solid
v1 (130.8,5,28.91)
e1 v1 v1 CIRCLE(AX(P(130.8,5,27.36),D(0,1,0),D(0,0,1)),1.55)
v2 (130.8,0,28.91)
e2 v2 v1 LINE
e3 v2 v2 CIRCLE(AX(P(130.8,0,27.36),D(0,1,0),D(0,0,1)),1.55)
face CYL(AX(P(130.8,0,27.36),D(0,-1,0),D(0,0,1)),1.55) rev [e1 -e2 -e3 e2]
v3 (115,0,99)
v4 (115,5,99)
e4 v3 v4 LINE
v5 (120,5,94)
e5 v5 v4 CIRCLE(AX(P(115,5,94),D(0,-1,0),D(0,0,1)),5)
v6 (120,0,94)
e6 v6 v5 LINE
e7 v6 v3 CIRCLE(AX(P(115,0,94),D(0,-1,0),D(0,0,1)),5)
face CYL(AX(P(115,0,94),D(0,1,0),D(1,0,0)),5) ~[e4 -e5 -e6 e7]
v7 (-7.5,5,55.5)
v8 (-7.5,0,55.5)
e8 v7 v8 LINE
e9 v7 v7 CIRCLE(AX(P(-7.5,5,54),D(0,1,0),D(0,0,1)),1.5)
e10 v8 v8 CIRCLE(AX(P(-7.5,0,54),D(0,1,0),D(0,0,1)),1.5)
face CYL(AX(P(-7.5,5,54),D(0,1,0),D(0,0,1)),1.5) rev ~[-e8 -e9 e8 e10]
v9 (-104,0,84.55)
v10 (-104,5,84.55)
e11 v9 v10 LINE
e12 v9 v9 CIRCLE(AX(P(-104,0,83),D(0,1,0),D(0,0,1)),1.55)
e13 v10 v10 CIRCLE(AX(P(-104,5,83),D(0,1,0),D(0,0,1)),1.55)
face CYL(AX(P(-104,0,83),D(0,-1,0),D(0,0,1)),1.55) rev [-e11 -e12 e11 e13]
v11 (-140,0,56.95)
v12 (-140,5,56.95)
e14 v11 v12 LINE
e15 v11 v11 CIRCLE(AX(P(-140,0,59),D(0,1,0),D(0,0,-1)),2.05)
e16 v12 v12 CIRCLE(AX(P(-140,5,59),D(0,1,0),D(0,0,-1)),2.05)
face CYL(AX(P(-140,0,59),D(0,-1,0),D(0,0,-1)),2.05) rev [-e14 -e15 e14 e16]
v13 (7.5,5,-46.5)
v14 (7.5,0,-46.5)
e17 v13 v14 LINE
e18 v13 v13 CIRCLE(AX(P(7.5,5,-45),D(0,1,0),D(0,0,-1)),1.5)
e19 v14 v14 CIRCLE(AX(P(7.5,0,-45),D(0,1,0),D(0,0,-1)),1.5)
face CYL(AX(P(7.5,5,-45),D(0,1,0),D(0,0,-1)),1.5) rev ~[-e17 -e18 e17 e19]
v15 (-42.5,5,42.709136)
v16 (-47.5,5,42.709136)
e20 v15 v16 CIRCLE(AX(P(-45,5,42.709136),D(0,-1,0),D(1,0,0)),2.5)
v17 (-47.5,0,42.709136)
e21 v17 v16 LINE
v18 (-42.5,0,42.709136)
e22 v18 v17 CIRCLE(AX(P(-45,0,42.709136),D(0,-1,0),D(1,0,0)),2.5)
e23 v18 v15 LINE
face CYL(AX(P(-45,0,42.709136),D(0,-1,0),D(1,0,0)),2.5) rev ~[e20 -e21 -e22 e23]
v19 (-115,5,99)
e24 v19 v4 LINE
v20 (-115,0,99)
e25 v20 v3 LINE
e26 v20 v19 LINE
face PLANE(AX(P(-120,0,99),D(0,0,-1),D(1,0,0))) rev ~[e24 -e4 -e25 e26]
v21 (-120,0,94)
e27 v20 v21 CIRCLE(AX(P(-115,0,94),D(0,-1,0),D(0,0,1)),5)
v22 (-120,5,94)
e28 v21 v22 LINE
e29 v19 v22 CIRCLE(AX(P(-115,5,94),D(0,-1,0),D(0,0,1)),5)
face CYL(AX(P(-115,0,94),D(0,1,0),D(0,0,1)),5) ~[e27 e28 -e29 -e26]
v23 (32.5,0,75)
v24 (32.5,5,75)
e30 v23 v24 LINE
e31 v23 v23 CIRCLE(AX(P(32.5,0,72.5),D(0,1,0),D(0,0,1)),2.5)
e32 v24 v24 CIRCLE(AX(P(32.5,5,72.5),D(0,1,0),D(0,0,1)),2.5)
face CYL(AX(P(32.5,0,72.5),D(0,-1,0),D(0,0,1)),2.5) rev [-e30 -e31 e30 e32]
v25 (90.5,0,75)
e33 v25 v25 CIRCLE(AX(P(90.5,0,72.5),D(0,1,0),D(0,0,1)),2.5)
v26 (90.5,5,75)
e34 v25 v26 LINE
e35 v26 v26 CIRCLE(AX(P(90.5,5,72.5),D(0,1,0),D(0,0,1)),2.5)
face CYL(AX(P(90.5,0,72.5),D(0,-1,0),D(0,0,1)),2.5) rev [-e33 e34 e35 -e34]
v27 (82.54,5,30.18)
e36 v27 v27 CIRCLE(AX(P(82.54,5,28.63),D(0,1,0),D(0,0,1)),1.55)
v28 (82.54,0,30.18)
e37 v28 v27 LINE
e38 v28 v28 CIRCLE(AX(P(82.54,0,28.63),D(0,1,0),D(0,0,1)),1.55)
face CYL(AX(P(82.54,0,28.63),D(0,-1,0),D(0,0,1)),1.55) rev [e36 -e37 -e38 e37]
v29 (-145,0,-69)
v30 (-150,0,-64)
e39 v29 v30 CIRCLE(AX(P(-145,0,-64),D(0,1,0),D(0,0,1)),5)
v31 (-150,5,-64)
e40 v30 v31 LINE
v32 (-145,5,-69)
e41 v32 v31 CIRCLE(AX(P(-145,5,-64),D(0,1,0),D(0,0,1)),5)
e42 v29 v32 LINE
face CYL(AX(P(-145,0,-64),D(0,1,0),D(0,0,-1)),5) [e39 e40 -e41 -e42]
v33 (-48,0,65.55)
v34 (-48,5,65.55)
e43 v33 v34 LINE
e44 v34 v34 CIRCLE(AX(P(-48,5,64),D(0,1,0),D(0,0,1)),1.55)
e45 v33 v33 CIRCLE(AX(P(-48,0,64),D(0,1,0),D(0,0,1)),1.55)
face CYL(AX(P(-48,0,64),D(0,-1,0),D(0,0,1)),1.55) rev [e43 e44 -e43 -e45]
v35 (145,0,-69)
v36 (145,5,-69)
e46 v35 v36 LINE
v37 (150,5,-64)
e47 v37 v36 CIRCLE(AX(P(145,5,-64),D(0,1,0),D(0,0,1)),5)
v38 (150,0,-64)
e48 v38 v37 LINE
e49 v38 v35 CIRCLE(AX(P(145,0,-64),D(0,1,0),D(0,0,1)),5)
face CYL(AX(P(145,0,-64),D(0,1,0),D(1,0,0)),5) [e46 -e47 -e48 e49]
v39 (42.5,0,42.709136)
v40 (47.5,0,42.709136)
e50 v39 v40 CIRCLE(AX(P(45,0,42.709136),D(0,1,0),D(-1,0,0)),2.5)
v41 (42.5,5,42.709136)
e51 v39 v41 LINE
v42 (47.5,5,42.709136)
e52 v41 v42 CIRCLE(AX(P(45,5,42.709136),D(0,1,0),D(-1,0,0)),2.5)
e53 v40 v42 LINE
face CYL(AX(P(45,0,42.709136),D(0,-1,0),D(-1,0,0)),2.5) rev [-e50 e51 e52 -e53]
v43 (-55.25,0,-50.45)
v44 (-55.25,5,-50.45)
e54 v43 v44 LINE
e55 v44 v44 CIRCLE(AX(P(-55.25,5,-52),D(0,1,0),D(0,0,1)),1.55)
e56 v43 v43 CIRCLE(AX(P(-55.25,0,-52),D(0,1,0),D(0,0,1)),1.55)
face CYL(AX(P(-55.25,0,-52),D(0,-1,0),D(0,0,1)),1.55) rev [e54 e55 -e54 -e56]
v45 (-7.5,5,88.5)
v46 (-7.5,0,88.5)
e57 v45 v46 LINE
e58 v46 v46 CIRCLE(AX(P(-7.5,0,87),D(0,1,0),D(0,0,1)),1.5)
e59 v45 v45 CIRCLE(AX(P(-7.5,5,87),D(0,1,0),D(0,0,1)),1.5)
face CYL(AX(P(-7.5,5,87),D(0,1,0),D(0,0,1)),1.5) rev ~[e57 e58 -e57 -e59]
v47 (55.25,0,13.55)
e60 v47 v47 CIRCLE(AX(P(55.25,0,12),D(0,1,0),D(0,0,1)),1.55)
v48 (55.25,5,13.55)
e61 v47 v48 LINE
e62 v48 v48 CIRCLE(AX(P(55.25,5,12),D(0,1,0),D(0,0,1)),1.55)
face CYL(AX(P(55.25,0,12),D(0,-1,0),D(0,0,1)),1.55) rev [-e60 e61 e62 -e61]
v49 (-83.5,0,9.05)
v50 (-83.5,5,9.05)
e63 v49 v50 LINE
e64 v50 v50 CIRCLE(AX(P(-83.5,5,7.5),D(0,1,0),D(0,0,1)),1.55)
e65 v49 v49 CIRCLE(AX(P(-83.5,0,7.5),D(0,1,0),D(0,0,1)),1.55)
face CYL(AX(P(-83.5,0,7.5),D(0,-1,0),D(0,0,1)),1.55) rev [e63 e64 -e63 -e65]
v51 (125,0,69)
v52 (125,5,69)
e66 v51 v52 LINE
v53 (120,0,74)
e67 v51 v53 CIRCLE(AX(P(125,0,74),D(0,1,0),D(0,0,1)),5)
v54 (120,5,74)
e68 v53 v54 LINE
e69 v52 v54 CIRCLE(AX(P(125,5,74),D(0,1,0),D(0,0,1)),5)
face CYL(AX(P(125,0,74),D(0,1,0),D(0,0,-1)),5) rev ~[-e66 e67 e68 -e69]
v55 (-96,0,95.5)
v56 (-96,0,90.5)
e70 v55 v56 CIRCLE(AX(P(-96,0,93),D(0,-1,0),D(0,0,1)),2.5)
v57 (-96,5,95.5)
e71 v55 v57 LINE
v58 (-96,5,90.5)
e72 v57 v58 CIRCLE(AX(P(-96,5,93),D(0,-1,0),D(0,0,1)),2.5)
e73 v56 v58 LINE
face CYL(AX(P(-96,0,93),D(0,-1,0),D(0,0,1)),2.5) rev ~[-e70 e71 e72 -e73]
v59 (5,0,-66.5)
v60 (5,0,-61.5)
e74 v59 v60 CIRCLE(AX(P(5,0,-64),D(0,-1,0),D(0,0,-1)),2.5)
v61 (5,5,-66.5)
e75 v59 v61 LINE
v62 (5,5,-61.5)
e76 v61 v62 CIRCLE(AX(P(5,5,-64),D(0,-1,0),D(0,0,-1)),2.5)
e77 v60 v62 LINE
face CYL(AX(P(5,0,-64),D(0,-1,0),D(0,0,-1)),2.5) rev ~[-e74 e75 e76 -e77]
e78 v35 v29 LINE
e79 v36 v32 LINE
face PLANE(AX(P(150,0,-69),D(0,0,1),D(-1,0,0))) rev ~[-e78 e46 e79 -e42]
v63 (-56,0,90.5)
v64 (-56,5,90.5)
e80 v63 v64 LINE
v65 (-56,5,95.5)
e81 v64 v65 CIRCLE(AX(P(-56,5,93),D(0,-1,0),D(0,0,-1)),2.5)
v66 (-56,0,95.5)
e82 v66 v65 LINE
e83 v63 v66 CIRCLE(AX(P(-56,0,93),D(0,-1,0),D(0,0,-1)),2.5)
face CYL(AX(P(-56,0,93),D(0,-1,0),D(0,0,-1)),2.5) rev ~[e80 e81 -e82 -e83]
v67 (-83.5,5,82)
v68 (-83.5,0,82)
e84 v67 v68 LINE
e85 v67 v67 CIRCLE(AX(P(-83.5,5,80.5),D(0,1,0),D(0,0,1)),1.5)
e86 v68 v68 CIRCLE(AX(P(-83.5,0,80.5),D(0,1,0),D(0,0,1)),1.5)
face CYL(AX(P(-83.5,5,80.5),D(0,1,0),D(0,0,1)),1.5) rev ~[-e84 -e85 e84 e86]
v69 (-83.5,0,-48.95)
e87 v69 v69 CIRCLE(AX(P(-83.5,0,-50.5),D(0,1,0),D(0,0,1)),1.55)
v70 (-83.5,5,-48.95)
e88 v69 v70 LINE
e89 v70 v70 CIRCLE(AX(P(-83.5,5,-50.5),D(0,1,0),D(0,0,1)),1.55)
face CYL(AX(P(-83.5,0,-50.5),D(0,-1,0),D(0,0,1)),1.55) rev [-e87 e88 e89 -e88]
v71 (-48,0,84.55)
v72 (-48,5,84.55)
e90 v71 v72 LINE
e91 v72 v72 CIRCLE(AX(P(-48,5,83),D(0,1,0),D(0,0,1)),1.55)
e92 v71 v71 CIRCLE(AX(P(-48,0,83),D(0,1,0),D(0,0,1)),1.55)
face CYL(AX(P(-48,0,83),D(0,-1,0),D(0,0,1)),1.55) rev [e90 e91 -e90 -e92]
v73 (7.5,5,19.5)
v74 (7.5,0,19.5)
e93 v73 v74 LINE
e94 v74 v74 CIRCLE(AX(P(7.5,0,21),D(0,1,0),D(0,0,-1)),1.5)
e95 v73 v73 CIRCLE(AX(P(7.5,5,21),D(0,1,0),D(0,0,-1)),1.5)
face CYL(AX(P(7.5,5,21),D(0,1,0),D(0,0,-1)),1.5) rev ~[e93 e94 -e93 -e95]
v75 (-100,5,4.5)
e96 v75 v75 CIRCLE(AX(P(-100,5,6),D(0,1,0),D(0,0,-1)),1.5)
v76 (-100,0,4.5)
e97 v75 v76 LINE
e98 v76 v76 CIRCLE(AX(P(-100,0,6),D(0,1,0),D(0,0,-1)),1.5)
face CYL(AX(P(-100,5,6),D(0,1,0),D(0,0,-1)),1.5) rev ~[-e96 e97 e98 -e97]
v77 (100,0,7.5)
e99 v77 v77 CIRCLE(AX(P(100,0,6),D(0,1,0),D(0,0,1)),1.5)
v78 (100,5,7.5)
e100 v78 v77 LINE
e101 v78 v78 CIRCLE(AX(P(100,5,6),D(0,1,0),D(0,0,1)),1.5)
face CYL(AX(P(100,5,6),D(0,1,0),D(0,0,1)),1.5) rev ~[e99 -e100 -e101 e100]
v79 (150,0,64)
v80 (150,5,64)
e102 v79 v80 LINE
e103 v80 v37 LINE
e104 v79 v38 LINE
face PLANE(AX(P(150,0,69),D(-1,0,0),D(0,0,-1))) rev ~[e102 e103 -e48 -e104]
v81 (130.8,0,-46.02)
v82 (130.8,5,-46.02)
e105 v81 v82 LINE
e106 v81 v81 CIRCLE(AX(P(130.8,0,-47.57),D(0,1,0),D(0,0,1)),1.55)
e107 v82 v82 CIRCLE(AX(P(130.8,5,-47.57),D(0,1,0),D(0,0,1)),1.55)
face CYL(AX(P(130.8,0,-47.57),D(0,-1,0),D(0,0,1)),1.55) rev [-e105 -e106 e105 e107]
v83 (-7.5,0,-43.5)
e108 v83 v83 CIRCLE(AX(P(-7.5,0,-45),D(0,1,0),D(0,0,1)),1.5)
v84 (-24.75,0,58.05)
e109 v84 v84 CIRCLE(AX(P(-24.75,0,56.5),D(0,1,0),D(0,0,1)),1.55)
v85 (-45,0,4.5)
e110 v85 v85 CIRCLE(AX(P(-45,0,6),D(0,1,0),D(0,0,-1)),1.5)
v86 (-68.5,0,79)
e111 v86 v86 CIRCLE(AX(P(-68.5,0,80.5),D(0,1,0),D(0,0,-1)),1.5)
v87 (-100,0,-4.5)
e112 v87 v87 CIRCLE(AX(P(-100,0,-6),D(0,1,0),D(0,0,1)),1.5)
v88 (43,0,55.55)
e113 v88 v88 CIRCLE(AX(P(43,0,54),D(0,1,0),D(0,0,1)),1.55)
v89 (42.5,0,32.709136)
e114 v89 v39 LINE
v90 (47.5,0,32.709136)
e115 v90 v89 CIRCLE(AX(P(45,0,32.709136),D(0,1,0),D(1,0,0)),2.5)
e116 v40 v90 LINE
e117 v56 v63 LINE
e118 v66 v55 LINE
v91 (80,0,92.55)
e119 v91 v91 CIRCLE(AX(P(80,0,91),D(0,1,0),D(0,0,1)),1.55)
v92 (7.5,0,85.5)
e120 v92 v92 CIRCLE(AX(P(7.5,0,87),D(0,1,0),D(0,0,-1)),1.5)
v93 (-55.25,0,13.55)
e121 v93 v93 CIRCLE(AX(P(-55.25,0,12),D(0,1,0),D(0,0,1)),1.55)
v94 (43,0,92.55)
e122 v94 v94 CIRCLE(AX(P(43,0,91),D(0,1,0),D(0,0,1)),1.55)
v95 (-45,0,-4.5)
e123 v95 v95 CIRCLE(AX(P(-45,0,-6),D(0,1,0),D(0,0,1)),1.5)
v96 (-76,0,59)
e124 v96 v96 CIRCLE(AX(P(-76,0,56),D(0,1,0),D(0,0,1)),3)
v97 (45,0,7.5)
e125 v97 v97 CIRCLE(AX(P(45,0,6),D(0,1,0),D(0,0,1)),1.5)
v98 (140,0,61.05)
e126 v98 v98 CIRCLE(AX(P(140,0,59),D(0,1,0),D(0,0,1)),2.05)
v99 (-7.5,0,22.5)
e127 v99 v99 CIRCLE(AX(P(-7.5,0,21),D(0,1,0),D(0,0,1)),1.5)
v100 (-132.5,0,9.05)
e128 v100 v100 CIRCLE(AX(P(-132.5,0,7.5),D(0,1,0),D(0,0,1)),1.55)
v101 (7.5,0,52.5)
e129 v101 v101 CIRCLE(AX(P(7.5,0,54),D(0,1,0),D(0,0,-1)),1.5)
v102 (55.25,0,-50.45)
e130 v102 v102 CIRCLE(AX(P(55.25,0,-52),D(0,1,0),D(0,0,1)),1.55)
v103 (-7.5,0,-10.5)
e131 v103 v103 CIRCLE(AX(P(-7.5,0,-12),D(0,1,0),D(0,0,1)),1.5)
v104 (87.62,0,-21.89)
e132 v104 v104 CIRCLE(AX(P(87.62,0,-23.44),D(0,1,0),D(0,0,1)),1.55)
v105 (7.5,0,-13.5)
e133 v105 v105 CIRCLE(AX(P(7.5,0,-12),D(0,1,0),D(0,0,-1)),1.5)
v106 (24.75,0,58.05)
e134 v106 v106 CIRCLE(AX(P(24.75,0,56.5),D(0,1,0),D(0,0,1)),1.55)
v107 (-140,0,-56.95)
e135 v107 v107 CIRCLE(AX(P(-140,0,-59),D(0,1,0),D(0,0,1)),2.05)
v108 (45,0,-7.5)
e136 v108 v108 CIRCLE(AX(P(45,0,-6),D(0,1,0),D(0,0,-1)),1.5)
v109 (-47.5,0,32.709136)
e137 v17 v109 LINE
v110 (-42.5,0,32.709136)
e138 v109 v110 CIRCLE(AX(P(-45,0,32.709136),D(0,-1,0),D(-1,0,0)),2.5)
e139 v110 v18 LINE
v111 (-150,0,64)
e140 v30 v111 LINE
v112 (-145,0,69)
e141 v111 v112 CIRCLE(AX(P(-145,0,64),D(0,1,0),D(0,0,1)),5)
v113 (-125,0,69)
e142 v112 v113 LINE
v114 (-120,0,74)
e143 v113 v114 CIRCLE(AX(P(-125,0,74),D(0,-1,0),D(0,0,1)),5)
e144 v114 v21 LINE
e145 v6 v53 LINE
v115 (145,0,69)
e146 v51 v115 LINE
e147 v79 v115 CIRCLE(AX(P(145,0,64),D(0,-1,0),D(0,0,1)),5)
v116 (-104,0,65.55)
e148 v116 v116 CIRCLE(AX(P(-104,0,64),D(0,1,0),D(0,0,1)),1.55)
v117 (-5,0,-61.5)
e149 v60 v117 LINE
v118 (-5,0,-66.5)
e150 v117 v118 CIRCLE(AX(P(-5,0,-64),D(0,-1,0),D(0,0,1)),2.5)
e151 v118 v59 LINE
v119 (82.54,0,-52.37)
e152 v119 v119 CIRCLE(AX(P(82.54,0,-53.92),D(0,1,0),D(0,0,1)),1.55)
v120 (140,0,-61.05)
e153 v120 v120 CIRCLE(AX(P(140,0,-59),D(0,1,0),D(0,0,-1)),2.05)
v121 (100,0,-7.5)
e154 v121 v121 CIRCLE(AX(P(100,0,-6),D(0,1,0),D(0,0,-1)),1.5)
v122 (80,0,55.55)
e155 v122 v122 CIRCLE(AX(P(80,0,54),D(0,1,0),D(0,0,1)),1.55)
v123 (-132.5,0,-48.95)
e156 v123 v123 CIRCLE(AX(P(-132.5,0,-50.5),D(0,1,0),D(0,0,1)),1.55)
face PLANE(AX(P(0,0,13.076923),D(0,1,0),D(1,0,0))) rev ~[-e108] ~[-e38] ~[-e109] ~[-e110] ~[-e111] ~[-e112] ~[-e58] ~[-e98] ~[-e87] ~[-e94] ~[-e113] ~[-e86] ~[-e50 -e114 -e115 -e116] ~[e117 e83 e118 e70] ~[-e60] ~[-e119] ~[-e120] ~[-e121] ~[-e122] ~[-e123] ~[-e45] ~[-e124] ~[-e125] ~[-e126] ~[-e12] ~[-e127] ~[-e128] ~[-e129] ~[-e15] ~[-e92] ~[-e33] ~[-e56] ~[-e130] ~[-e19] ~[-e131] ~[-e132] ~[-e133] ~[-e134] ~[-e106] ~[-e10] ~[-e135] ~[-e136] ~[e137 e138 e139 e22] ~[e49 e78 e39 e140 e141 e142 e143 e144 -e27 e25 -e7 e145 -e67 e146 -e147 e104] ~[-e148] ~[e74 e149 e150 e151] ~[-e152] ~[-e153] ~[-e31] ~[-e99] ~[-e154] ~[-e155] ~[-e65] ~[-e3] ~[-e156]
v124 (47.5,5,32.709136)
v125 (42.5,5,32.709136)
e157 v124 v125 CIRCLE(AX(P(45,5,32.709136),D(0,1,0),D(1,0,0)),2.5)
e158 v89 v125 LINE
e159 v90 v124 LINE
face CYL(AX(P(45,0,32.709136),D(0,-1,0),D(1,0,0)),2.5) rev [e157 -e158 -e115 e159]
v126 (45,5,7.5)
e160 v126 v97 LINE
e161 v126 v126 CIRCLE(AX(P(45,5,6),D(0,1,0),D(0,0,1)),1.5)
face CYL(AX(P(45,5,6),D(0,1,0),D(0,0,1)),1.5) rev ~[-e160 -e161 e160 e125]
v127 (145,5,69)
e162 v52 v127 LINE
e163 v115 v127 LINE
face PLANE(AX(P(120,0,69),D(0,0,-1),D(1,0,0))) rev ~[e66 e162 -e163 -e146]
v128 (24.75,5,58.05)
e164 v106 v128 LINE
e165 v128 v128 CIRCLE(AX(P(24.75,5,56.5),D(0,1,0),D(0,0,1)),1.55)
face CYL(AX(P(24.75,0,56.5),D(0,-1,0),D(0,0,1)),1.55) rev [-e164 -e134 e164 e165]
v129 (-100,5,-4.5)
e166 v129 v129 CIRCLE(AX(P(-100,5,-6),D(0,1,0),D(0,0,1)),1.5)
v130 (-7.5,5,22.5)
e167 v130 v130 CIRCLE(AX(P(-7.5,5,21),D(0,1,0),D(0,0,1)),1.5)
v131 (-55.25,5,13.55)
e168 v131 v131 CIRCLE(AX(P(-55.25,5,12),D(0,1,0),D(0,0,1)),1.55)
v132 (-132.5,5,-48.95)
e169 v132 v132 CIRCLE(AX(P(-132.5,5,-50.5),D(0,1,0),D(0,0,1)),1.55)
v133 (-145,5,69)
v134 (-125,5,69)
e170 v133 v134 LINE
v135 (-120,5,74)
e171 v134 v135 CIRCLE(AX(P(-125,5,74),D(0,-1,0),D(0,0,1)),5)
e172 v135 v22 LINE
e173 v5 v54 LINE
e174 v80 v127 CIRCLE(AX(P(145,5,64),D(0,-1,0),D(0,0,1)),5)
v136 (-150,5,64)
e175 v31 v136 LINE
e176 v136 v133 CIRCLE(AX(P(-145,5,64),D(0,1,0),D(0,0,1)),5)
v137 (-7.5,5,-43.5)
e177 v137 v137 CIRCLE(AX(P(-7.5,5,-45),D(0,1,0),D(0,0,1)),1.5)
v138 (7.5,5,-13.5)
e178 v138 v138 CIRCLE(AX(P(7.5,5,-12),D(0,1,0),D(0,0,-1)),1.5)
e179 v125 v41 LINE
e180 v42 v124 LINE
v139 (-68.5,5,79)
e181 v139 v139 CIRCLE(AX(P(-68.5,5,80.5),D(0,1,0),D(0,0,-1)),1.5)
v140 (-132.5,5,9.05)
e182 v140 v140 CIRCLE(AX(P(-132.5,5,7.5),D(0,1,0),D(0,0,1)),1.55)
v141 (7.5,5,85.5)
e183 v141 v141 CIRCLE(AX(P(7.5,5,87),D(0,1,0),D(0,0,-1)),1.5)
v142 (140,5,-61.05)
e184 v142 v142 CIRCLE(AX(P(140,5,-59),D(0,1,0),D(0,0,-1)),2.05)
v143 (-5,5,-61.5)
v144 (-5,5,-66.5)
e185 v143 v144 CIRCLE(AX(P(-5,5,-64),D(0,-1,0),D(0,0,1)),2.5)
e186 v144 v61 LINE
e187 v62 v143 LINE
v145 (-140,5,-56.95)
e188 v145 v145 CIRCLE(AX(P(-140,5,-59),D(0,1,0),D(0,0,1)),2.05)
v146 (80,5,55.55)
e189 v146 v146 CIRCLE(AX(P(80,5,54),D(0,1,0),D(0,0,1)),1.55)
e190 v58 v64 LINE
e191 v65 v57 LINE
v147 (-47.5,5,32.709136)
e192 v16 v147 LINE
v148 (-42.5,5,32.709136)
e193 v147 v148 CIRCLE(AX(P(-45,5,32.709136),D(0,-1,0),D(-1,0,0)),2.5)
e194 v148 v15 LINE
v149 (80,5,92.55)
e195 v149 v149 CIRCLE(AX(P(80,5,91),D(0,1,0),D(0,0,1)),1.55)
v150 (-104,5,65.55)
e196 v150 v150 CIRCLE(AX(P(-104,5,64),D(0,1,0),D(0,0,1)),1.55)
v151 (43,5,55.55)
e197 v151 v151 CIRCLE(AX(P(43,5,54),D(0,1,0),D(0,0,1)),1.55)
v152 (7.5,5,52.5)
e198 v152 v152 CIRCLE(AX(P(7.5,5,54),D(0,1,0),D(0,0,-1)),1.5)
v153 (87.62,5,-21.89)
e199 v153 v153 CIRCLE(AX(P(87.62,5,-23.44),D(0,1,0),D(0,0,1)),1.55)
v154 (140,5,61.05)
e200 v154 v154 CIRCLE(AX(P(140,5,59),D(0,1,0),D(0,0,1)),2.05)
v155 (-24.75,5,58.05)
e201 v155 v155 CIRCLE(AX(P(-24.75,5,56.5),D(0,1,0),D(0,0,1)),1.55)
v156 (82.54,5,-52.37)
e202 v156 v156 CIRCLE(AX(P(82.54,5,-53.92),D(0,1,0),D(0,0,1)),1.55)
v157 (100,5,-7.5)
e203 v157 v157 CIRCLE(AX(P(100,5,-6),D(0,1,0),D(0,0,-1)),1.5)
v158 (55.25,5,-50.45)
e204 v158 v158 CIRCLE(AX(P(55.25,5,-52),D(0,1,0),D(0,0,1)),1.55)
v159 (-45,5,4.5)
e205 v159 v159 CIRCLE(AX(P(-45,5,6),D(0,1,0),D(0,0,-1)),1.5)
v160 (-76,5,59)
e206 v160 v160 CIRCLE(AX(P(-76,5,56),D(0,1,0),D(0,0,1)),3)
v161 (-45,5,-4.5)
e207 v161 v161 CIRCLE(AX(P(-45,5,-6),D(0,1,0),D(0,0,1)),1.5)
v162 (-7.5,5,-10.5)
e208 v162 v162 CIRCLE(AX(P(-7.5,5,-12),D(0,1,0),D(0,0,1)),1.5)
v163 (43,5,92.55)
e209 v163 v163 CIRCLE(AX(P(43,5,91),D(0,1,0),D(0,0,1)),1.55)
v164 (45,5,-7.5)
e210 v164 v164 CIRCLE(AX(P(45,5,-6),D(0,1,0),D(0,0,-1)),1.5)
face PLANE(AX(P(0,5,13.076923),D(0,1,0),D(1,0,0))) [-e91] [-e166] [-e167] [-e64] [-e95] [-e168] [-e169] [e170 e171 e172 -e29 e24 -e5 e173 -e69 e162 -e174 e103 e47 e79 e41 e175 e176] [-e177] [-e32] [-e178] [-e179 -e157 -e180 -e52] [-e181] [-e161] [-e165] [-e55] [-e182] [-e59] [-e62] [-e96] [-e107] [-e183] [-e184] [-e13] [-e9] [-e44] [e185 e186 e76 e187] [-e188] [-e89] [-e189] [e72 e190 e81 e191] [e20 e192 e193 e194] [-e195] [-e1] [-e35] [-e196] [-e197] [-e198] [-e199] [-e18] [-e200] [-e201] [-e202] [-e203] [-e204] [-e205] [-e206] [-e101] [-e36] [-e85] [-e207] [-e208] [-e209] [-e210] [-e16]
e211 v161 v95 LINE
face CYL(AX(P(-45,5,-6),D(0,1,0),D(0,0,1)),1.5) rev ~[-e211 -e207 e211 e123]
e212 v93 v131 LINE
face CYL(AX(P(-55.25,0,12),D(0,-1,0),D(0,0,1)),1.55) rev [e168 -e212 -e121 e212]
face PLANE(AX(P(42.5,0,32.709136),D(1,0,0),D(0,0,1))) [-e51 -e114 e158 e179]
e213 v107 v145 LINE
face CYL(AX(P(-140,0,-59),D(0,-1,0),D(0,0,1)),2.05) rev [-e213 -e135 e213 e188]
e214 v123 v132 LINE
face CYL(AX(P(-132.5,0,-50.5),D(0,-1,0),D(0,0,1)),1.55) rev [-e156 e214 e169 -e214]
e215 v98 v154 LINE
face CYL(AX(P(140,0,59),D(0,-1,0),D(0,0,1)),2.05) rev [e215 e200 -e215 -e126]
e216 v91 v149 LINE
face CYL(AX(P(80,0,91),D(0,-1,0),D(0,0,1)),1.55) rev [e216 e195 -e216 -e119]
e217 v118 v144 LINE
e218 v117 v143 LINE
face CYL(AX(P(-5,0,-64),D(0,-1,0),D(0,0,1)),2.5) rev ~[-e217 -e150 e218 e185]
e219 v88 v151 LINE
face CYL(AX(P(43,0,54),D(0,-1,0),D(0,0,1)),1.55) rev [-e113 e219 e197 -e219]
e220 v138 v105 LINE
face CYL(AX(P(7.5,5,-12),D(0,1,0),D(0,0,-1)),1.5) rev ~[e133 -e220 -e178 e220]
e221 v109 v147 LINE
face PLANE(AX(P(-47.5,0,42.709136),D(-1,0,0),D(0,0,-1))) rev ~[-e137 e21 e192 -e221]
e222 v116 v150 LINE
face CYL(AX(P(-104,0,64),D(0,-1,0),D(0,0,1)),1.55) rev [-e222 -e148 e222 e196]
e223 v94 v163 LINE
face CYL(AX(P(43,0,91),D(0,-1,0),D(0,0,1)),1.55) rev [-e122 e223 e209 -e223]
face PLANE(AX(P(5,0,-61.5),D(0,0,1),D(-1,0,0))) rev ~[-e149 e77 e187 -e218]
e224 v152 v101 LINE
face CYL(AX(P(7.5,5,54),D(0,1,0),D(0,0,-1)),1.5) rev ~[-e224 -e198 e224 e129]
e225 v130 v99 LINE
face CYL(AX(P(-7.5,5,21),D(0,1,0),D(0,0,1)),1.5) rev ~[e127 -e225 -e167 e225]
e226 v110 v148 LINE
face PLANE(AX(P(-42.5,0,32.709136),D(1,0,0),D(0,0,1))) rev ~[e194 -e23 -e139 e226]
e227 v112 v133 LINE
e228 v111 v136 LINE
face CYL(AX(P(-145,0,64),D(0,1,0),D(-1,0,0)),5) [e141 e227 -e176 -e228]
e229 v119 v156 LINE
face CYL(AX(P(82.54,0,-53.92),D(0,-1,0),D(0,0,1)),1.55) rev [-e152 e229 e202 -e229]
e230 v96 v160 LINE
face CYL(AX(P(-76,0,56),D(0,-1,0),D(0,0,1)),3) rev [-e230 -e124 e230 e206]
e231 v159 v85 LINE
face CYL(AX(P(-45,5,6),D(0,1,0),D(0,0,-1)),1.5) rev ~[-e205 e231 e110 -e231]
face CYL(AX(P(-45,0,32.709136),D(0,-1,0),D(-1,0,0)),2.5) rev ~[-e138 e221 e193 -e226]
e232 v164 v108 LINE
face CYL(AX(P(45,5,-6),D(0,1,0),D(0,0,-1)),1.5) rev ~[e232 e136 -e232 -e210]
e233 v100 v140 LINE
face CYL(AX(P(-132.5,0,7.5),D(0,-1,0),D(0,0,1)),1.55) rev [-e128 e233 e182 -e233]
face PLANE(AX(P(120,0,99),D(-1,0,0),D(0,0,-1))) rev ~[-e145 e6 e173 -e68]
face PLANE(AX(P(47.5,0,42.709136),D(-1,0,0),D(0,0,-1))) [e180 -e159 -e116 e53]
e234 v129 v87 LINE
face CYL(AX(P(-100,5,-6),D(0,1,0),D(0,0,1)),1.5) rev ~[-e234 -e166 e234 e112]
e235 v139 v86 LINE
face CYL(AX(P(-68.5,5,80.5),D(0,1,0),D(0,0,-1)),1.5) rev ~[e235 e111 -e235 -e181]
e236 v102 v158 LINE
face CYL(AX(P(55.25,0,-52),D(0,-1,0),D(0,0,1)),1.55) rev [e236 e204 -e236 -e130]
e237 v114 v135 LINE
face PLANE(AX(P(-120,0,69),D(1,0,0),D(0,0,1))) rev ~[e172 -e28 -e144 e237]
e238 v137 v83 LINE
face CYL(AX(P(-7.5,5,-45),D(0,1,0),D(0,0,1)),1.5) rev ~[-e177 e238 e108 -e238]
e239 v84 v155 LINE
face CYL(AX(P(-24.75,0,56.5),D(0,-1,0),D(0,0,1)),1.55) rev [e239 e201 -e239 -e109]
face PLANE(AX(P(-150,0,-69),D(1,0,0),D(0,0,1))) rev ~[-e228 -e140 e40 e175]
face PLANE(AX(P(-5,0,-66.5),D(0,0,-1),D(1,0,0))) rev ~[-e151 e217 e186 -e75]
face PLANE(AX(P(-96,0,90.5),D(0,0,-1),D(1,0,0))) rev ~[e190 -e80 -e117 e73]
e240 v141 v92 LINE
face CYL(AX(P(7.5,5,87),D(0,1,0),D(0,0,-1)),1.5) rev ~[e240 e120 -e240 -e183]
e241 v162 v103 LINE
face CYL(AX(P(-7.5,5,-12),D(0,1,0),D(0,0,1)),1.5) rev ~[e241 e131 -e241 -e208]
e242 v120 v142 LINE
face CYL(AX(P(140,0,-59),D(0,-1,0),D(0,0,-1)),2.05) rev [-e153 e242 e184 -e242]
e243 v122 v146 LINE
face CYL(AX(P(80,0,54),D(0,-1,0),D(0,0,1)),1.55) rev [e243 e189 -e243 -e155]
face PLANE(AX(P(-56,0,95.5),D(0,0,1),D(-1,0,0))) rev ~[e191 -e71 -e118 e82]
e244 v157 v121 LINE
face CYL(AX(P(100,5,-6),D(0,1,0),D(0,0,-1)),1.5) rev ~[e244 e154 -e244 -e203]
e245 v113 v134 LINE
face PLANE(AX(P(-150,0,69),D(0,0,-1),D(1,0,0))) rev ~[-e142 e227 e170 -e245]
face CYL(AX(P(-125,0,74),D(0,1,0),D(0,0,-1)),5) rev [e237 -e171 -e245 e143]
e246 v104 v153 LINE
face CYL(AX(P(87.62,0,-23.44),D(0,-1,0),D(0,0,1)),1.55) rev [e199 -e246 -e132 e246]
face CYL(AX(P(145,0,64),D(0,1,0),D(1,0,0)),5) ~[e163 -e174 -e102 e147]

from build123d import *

# Parameters (mm, degrees)
ESQUISSE1_R             = 2.05
ESQUISSE1_R_2           = 1.55
ESQUISSE1_R_3           = 2.5
ESQUISSE1_R_4           = 3
BOSS_EXTRU_1_DEPTH      = 5
CONG_2_R                = 5
ESQUISSE2_R             = 1.5
ENL_V_MAT_EXTRU_1_DEPTH = 10


with BuildPart() as part:
    # Esquisse1 → Boss.-Extru.1 (new body)
    with BuildSketch(Plane(origin=(0, 0, 0), x_dir=(1, 0, 0), z_dir=(0, 1, 0))):
        Polygon((150, -69), (150, 69), (-149.848840409, 69), (-150, 69), (-150, -69), (-120, -69), (-120, -99), (120, -99), (120, -69), align=None)
        with Locations(Location((-140, 59, 0), (0, 0, 270))):
            Circle(ESQUISSE1_R, mode=Mode.SUBTRACT)
        with Locations(Location((140, 59, 0), (0, 0, 90))):
            Circle(ESQUISSE1_R, mode=Mode.SUBTRACT)
        with Locations(Location((140, -59, 0), (0, 0, 270))):
            Circle(ESQUISSE1_R, mode=Mode.SUBTRACT)
        with Locations(Location((-140, -59, 0), (0, 0, 90))):
            Circle(ESQUISSE1_R, mode=Mode.SUBTRACT)
        with Locations(Location((-48, -83, 0), (0, 0, 270))):
            Circle(ESQUISSE1_R_2, mode=Mode.SUBTRACT)
        with Locations(Location((-104, -83, 0), (0, 0, 270))):
            Circle(ESQUISSE1_R_2, mode=Mode.SUBTRACT)
        with Locations(Location((-48, -64, 0), (0, 0, 270))):
            Circle(ESQUISSE1_R_2, mode=Mode.SUBTRACT)
        with Locations(Location((-104, -64, 0), (0, 0, 270))):
            Circle(ESQUISSE1_R_2, mode=Mode.SUBTRACT)
        with Locations(Location((82.54, -28.63, 0), (0, 0, 270))):
            Circle(ESQUISSE1_R_2, mode=Mode.SUBTRACT)
        with Locations(Location((130.8, -27.36, 0), (0, 0, 270))):
            Circle(ESQUISSE1_R_2, mode=Mode.SUBTRACT)
        with Locations(Location((130.8, 47.57, 0), (0, 0, 270))):
            Circle(ESQUISSE1_R_2, mode=Mode.SUBTRACT)
        with Locations(Location((82.54, 53.92, 0), (0, 0, 270))):
            Circle(ESQUISSE1_R_2, mode=Mode.SUBTRACT)
        with Locations(Location((87.62, 23.44, 0), (0, 0, 270))):
            Circle(ESQUISSE1_R_2, mode=Mode.SUBTRACT)
        with Locations(Location((43, -54, 0), (0, 0, 270))):
            Circle(ESQUISSE1_R_2, mode=Mode.SUBTRACT)
        with Locations(Location((80, -54, 0), (0, 0, 270))):
            Circle(ESQUISSE1_R_2, mode=Mode.SUBTRACT)
        with Locations(Location((80, -91, 0), (0, 0, 270))):
            Circle(ESQUISSE1_R_2, mode=Mode.SUBTRACT)
        with Locations(Location((43, -91, 0), (0, 0, 270))):
            Circle(ESQUISSE1_R_2, mode=Mode.SUBTRACT)
        with Locations(Location((-132.5, 50.5, 0), (0, 0, 270))):
            Circle(ESQUISSE1_R_2, mode=Mode.SUBTRACT)
        with Locations(Location((-132.5, -7.5, 0), (0, 0, 270))):
            Circle(ESQUISSE1_R_2, mode=Mode.SUBTRACT)
        with Locations(Location((-83.5, -7.5, 0), (0, 0, 270))):
            Circle(ESQUISSE1_R_2, mode=Mode.SUBTRACT)
        with Locations(Location((-83.5, 50.5, 0), (0, 0, 270))):
            Circle(ESQUISSE1_R_2, mode=Mode.SUBTRACT)
        with Locations(Location((-55.25, 52, 0), (0, 0, 270))):
            Circle(ESQUISSE1_R_2, mode=Mode.SUBTRACT)
        with Locations(Location((-55.25, -12, 0), (0, 0, 270))):
            Circle(ESQUISSE1_R_2, mode=Mode.SUBTRACT)
        with Locations(Location((55.25, 52, 0), (0, 0, 270))):
            Circle(ESQUISSE1_R_2, mode=Mode.SUBTRACT)
        with Locations(Location((55.25, -12, 0), (0, 0, 270))):
            Circle(ESQUISSE1_R_2, mode=Mode.SUBTRACT)
        with Locations(Location((-24.75, -56.5, 0), (0, 0, 270))):
            Circle(ESQUISSE1_R_2, mode=Mode.SUBTRACT)
        with Locations(Location((24.75, -56.5, 0), (0, 0, 270))):
            Circle(ESQUISSE1_R_2, mode=Mode.SUBTRACT)
        with Locations(Location((32.5, -72.5, 0), (0, 0, 270))):
            Circle(ESQUISSE1_R_3, mode=Mode.SUBTRACT)
        with Locations(Location((90.5, -72.5, 0), (0, 0, 270))):
            Circle(ESQUISSE1_R_3, mode=Mode.SUBTRACT)
        with Locations(Location((-76, -56, 0), (0, 0, 270))):
            Circle(ESQUISSE1_R_4, mode=Mode.SUBTRACT)
        with BuildLine():
            Line((-56, -95.5), (-96, -95.5))
            ThreePointArc((-96, -95.5), (-98.5, -93), (-96, -90.5))
            Line((-96, -90.5), (-56, -90.5))
            ThreePointArc((-56, -90.5), (-53.5, -93), (-56, -95.5))
        make_face(mode=Mode.SUBTRACT)
        with BuildLine():
            Line((-5, 66.5), (5, 66.5))
            ThreePointArc((5, 66.5), (7.5, 64), (5, 61.5))
            Line((5, 61.5), (-5, 61.5))
            ThreePointArc((-5, 61.5), (-7.5, 64), (-5, 66.5))
        make_face(mode=Mode.SUBTRACT)
        with BuildLine():
            Line((-42.5, -32.709135822), (-42.5, -42.709135822))
            ThreePointArc((-42.5, -42.709135822), (-45, -45.209135822), (-47.5, -42.709135822))
            Line((-47.5, -42.709135822), (-47.5, -32.709135822))
            ThreePointArc((-47.5, -32.709135822), (-45, -30.209135822), (-42.5, -32.709135822))
        make_face(mode=Mode.SUBTRACT)
        with BuildLine():
            Line((42.5, -32.709135822), (42.5, -42.709135822))
            ThreePointArc((42.5, -42.709135822), (45, -45.209135822), (47.5, -42.709135822))
            Line((47.5, -42.709135822), (47.5, -32.709135822))
            ThreePointArc((47.5, -32.709135822), (45, -30.209135822), (42.5, -32.709135822))
        make_face(mode=Mode.SUBTRACT)
    extrude(amount=BOSS_EXTRU_1_DEPTH)

    # Congé2
    cong_2_edges = [part.edges().sort_by_distance(p)[0] for p in [
        (150, 2.5, -69),
        (150, 2.5, 69),
        (120, 2.5, 69),
        (120, 2.5, 99),
        (-120, 2.5, 99),
        (-120, 2.5, 69),
        (-150, 2.5, 69),
        (-150, 2.5, -69),
    ]]
    fillet(cong_2_edges, radius=CONG_2_R)

    # Esquisse2 → Enlèv. mat.-Extru.1 (cut)
    with BuildSketch(Plane(origin=(0, 5, 0), x_dir=(1, 0, 0), z_dir=(0, 1, 0))):
        with Locations(Location((-7.5, 45, 0), (0, 0, 270))):
            Circle(ESQUISSE2_R)
        with Locations(Location((7.5, 45, 0), (0, 0, 90))):
            Circle(ESQUISSE2_R)
        with Locations(Location((-7.5, 12, 0), (0, 0, 270))):
            Circle(ESQUISSE2_R)
        with Locations(Location((7.5, 12, 0), (0, 0, 90))):
            Circle(ESQUISSE2_R)
        with Locations(Location((-7.5, -21, 0), (0, 0, 270))):
            Circle(ESQUISSE2_R)
        with Locations(Location((7.5, -21, 0), (0, 0, 90))):
            Circle(ESQUISSE2_R)
        with Locations(Location((-7.5, -54, 0), (0, 0, 270))):
            Circle(ESQUISSE2_R)
        with Locations(Location((7.5, -54, 0), (0, 0, 90))):
            Circle(ESQUISSE2_R)
        with Locations(Location((-7.5, -87, 0), (0, 0, 270))):
            Circle(ESQUISSE2_R)
        with Locations(Location((7.5, -87, 0), (0, 0, 90))):
            Circle(ESQUISSE2_R)
        with Locations(Location((-100, 6, 0), (0, 0, 270))):
            Circle(ESQUISSE2_R)
        with Locations(Location((-100, -6, 0), (0, 0, 90))):
            Circle(ESQUISSE2_R)
        with Locations(Location((100, -6, 0), (0, 0, 270))):
            Circle(ESQUISSE2_R)
        with Locations(Location((100, 6, 0), (0, 0, 90))):
            Circle(ESQUISSE2_R)
        with Locations(Location((-83.5, -80.5, 0), (0, 0, 270))):
            Circle(ESQUISSE2_R)
        with Locations(Location((-68.5, -80.5, 0), (0, 0, 90))):
            Circle(ESQUISSE2_R)
        with Locations(Location((-45, -6, 0), (0, 0, 90))):
            Circle(ESQUISSE2_R)
        with Locations(Location((-45, 6, 0), (0, 0, 270))):
            Circle(ESQUISSE2_R)
        with Locations(Location((45, 6, 0), (0, 0, 90))):
            Circle(ESQUISSE2_R)
        with Locations(Location((45, -6, 0), (0, 0, 270))):
            Circle(ESQUISSE2_R)
    extrude(amount=-ENL_V_MAT_EXTRU_1_DEPTH, mode=Mode.SUBTRACT)


solid = part.part
